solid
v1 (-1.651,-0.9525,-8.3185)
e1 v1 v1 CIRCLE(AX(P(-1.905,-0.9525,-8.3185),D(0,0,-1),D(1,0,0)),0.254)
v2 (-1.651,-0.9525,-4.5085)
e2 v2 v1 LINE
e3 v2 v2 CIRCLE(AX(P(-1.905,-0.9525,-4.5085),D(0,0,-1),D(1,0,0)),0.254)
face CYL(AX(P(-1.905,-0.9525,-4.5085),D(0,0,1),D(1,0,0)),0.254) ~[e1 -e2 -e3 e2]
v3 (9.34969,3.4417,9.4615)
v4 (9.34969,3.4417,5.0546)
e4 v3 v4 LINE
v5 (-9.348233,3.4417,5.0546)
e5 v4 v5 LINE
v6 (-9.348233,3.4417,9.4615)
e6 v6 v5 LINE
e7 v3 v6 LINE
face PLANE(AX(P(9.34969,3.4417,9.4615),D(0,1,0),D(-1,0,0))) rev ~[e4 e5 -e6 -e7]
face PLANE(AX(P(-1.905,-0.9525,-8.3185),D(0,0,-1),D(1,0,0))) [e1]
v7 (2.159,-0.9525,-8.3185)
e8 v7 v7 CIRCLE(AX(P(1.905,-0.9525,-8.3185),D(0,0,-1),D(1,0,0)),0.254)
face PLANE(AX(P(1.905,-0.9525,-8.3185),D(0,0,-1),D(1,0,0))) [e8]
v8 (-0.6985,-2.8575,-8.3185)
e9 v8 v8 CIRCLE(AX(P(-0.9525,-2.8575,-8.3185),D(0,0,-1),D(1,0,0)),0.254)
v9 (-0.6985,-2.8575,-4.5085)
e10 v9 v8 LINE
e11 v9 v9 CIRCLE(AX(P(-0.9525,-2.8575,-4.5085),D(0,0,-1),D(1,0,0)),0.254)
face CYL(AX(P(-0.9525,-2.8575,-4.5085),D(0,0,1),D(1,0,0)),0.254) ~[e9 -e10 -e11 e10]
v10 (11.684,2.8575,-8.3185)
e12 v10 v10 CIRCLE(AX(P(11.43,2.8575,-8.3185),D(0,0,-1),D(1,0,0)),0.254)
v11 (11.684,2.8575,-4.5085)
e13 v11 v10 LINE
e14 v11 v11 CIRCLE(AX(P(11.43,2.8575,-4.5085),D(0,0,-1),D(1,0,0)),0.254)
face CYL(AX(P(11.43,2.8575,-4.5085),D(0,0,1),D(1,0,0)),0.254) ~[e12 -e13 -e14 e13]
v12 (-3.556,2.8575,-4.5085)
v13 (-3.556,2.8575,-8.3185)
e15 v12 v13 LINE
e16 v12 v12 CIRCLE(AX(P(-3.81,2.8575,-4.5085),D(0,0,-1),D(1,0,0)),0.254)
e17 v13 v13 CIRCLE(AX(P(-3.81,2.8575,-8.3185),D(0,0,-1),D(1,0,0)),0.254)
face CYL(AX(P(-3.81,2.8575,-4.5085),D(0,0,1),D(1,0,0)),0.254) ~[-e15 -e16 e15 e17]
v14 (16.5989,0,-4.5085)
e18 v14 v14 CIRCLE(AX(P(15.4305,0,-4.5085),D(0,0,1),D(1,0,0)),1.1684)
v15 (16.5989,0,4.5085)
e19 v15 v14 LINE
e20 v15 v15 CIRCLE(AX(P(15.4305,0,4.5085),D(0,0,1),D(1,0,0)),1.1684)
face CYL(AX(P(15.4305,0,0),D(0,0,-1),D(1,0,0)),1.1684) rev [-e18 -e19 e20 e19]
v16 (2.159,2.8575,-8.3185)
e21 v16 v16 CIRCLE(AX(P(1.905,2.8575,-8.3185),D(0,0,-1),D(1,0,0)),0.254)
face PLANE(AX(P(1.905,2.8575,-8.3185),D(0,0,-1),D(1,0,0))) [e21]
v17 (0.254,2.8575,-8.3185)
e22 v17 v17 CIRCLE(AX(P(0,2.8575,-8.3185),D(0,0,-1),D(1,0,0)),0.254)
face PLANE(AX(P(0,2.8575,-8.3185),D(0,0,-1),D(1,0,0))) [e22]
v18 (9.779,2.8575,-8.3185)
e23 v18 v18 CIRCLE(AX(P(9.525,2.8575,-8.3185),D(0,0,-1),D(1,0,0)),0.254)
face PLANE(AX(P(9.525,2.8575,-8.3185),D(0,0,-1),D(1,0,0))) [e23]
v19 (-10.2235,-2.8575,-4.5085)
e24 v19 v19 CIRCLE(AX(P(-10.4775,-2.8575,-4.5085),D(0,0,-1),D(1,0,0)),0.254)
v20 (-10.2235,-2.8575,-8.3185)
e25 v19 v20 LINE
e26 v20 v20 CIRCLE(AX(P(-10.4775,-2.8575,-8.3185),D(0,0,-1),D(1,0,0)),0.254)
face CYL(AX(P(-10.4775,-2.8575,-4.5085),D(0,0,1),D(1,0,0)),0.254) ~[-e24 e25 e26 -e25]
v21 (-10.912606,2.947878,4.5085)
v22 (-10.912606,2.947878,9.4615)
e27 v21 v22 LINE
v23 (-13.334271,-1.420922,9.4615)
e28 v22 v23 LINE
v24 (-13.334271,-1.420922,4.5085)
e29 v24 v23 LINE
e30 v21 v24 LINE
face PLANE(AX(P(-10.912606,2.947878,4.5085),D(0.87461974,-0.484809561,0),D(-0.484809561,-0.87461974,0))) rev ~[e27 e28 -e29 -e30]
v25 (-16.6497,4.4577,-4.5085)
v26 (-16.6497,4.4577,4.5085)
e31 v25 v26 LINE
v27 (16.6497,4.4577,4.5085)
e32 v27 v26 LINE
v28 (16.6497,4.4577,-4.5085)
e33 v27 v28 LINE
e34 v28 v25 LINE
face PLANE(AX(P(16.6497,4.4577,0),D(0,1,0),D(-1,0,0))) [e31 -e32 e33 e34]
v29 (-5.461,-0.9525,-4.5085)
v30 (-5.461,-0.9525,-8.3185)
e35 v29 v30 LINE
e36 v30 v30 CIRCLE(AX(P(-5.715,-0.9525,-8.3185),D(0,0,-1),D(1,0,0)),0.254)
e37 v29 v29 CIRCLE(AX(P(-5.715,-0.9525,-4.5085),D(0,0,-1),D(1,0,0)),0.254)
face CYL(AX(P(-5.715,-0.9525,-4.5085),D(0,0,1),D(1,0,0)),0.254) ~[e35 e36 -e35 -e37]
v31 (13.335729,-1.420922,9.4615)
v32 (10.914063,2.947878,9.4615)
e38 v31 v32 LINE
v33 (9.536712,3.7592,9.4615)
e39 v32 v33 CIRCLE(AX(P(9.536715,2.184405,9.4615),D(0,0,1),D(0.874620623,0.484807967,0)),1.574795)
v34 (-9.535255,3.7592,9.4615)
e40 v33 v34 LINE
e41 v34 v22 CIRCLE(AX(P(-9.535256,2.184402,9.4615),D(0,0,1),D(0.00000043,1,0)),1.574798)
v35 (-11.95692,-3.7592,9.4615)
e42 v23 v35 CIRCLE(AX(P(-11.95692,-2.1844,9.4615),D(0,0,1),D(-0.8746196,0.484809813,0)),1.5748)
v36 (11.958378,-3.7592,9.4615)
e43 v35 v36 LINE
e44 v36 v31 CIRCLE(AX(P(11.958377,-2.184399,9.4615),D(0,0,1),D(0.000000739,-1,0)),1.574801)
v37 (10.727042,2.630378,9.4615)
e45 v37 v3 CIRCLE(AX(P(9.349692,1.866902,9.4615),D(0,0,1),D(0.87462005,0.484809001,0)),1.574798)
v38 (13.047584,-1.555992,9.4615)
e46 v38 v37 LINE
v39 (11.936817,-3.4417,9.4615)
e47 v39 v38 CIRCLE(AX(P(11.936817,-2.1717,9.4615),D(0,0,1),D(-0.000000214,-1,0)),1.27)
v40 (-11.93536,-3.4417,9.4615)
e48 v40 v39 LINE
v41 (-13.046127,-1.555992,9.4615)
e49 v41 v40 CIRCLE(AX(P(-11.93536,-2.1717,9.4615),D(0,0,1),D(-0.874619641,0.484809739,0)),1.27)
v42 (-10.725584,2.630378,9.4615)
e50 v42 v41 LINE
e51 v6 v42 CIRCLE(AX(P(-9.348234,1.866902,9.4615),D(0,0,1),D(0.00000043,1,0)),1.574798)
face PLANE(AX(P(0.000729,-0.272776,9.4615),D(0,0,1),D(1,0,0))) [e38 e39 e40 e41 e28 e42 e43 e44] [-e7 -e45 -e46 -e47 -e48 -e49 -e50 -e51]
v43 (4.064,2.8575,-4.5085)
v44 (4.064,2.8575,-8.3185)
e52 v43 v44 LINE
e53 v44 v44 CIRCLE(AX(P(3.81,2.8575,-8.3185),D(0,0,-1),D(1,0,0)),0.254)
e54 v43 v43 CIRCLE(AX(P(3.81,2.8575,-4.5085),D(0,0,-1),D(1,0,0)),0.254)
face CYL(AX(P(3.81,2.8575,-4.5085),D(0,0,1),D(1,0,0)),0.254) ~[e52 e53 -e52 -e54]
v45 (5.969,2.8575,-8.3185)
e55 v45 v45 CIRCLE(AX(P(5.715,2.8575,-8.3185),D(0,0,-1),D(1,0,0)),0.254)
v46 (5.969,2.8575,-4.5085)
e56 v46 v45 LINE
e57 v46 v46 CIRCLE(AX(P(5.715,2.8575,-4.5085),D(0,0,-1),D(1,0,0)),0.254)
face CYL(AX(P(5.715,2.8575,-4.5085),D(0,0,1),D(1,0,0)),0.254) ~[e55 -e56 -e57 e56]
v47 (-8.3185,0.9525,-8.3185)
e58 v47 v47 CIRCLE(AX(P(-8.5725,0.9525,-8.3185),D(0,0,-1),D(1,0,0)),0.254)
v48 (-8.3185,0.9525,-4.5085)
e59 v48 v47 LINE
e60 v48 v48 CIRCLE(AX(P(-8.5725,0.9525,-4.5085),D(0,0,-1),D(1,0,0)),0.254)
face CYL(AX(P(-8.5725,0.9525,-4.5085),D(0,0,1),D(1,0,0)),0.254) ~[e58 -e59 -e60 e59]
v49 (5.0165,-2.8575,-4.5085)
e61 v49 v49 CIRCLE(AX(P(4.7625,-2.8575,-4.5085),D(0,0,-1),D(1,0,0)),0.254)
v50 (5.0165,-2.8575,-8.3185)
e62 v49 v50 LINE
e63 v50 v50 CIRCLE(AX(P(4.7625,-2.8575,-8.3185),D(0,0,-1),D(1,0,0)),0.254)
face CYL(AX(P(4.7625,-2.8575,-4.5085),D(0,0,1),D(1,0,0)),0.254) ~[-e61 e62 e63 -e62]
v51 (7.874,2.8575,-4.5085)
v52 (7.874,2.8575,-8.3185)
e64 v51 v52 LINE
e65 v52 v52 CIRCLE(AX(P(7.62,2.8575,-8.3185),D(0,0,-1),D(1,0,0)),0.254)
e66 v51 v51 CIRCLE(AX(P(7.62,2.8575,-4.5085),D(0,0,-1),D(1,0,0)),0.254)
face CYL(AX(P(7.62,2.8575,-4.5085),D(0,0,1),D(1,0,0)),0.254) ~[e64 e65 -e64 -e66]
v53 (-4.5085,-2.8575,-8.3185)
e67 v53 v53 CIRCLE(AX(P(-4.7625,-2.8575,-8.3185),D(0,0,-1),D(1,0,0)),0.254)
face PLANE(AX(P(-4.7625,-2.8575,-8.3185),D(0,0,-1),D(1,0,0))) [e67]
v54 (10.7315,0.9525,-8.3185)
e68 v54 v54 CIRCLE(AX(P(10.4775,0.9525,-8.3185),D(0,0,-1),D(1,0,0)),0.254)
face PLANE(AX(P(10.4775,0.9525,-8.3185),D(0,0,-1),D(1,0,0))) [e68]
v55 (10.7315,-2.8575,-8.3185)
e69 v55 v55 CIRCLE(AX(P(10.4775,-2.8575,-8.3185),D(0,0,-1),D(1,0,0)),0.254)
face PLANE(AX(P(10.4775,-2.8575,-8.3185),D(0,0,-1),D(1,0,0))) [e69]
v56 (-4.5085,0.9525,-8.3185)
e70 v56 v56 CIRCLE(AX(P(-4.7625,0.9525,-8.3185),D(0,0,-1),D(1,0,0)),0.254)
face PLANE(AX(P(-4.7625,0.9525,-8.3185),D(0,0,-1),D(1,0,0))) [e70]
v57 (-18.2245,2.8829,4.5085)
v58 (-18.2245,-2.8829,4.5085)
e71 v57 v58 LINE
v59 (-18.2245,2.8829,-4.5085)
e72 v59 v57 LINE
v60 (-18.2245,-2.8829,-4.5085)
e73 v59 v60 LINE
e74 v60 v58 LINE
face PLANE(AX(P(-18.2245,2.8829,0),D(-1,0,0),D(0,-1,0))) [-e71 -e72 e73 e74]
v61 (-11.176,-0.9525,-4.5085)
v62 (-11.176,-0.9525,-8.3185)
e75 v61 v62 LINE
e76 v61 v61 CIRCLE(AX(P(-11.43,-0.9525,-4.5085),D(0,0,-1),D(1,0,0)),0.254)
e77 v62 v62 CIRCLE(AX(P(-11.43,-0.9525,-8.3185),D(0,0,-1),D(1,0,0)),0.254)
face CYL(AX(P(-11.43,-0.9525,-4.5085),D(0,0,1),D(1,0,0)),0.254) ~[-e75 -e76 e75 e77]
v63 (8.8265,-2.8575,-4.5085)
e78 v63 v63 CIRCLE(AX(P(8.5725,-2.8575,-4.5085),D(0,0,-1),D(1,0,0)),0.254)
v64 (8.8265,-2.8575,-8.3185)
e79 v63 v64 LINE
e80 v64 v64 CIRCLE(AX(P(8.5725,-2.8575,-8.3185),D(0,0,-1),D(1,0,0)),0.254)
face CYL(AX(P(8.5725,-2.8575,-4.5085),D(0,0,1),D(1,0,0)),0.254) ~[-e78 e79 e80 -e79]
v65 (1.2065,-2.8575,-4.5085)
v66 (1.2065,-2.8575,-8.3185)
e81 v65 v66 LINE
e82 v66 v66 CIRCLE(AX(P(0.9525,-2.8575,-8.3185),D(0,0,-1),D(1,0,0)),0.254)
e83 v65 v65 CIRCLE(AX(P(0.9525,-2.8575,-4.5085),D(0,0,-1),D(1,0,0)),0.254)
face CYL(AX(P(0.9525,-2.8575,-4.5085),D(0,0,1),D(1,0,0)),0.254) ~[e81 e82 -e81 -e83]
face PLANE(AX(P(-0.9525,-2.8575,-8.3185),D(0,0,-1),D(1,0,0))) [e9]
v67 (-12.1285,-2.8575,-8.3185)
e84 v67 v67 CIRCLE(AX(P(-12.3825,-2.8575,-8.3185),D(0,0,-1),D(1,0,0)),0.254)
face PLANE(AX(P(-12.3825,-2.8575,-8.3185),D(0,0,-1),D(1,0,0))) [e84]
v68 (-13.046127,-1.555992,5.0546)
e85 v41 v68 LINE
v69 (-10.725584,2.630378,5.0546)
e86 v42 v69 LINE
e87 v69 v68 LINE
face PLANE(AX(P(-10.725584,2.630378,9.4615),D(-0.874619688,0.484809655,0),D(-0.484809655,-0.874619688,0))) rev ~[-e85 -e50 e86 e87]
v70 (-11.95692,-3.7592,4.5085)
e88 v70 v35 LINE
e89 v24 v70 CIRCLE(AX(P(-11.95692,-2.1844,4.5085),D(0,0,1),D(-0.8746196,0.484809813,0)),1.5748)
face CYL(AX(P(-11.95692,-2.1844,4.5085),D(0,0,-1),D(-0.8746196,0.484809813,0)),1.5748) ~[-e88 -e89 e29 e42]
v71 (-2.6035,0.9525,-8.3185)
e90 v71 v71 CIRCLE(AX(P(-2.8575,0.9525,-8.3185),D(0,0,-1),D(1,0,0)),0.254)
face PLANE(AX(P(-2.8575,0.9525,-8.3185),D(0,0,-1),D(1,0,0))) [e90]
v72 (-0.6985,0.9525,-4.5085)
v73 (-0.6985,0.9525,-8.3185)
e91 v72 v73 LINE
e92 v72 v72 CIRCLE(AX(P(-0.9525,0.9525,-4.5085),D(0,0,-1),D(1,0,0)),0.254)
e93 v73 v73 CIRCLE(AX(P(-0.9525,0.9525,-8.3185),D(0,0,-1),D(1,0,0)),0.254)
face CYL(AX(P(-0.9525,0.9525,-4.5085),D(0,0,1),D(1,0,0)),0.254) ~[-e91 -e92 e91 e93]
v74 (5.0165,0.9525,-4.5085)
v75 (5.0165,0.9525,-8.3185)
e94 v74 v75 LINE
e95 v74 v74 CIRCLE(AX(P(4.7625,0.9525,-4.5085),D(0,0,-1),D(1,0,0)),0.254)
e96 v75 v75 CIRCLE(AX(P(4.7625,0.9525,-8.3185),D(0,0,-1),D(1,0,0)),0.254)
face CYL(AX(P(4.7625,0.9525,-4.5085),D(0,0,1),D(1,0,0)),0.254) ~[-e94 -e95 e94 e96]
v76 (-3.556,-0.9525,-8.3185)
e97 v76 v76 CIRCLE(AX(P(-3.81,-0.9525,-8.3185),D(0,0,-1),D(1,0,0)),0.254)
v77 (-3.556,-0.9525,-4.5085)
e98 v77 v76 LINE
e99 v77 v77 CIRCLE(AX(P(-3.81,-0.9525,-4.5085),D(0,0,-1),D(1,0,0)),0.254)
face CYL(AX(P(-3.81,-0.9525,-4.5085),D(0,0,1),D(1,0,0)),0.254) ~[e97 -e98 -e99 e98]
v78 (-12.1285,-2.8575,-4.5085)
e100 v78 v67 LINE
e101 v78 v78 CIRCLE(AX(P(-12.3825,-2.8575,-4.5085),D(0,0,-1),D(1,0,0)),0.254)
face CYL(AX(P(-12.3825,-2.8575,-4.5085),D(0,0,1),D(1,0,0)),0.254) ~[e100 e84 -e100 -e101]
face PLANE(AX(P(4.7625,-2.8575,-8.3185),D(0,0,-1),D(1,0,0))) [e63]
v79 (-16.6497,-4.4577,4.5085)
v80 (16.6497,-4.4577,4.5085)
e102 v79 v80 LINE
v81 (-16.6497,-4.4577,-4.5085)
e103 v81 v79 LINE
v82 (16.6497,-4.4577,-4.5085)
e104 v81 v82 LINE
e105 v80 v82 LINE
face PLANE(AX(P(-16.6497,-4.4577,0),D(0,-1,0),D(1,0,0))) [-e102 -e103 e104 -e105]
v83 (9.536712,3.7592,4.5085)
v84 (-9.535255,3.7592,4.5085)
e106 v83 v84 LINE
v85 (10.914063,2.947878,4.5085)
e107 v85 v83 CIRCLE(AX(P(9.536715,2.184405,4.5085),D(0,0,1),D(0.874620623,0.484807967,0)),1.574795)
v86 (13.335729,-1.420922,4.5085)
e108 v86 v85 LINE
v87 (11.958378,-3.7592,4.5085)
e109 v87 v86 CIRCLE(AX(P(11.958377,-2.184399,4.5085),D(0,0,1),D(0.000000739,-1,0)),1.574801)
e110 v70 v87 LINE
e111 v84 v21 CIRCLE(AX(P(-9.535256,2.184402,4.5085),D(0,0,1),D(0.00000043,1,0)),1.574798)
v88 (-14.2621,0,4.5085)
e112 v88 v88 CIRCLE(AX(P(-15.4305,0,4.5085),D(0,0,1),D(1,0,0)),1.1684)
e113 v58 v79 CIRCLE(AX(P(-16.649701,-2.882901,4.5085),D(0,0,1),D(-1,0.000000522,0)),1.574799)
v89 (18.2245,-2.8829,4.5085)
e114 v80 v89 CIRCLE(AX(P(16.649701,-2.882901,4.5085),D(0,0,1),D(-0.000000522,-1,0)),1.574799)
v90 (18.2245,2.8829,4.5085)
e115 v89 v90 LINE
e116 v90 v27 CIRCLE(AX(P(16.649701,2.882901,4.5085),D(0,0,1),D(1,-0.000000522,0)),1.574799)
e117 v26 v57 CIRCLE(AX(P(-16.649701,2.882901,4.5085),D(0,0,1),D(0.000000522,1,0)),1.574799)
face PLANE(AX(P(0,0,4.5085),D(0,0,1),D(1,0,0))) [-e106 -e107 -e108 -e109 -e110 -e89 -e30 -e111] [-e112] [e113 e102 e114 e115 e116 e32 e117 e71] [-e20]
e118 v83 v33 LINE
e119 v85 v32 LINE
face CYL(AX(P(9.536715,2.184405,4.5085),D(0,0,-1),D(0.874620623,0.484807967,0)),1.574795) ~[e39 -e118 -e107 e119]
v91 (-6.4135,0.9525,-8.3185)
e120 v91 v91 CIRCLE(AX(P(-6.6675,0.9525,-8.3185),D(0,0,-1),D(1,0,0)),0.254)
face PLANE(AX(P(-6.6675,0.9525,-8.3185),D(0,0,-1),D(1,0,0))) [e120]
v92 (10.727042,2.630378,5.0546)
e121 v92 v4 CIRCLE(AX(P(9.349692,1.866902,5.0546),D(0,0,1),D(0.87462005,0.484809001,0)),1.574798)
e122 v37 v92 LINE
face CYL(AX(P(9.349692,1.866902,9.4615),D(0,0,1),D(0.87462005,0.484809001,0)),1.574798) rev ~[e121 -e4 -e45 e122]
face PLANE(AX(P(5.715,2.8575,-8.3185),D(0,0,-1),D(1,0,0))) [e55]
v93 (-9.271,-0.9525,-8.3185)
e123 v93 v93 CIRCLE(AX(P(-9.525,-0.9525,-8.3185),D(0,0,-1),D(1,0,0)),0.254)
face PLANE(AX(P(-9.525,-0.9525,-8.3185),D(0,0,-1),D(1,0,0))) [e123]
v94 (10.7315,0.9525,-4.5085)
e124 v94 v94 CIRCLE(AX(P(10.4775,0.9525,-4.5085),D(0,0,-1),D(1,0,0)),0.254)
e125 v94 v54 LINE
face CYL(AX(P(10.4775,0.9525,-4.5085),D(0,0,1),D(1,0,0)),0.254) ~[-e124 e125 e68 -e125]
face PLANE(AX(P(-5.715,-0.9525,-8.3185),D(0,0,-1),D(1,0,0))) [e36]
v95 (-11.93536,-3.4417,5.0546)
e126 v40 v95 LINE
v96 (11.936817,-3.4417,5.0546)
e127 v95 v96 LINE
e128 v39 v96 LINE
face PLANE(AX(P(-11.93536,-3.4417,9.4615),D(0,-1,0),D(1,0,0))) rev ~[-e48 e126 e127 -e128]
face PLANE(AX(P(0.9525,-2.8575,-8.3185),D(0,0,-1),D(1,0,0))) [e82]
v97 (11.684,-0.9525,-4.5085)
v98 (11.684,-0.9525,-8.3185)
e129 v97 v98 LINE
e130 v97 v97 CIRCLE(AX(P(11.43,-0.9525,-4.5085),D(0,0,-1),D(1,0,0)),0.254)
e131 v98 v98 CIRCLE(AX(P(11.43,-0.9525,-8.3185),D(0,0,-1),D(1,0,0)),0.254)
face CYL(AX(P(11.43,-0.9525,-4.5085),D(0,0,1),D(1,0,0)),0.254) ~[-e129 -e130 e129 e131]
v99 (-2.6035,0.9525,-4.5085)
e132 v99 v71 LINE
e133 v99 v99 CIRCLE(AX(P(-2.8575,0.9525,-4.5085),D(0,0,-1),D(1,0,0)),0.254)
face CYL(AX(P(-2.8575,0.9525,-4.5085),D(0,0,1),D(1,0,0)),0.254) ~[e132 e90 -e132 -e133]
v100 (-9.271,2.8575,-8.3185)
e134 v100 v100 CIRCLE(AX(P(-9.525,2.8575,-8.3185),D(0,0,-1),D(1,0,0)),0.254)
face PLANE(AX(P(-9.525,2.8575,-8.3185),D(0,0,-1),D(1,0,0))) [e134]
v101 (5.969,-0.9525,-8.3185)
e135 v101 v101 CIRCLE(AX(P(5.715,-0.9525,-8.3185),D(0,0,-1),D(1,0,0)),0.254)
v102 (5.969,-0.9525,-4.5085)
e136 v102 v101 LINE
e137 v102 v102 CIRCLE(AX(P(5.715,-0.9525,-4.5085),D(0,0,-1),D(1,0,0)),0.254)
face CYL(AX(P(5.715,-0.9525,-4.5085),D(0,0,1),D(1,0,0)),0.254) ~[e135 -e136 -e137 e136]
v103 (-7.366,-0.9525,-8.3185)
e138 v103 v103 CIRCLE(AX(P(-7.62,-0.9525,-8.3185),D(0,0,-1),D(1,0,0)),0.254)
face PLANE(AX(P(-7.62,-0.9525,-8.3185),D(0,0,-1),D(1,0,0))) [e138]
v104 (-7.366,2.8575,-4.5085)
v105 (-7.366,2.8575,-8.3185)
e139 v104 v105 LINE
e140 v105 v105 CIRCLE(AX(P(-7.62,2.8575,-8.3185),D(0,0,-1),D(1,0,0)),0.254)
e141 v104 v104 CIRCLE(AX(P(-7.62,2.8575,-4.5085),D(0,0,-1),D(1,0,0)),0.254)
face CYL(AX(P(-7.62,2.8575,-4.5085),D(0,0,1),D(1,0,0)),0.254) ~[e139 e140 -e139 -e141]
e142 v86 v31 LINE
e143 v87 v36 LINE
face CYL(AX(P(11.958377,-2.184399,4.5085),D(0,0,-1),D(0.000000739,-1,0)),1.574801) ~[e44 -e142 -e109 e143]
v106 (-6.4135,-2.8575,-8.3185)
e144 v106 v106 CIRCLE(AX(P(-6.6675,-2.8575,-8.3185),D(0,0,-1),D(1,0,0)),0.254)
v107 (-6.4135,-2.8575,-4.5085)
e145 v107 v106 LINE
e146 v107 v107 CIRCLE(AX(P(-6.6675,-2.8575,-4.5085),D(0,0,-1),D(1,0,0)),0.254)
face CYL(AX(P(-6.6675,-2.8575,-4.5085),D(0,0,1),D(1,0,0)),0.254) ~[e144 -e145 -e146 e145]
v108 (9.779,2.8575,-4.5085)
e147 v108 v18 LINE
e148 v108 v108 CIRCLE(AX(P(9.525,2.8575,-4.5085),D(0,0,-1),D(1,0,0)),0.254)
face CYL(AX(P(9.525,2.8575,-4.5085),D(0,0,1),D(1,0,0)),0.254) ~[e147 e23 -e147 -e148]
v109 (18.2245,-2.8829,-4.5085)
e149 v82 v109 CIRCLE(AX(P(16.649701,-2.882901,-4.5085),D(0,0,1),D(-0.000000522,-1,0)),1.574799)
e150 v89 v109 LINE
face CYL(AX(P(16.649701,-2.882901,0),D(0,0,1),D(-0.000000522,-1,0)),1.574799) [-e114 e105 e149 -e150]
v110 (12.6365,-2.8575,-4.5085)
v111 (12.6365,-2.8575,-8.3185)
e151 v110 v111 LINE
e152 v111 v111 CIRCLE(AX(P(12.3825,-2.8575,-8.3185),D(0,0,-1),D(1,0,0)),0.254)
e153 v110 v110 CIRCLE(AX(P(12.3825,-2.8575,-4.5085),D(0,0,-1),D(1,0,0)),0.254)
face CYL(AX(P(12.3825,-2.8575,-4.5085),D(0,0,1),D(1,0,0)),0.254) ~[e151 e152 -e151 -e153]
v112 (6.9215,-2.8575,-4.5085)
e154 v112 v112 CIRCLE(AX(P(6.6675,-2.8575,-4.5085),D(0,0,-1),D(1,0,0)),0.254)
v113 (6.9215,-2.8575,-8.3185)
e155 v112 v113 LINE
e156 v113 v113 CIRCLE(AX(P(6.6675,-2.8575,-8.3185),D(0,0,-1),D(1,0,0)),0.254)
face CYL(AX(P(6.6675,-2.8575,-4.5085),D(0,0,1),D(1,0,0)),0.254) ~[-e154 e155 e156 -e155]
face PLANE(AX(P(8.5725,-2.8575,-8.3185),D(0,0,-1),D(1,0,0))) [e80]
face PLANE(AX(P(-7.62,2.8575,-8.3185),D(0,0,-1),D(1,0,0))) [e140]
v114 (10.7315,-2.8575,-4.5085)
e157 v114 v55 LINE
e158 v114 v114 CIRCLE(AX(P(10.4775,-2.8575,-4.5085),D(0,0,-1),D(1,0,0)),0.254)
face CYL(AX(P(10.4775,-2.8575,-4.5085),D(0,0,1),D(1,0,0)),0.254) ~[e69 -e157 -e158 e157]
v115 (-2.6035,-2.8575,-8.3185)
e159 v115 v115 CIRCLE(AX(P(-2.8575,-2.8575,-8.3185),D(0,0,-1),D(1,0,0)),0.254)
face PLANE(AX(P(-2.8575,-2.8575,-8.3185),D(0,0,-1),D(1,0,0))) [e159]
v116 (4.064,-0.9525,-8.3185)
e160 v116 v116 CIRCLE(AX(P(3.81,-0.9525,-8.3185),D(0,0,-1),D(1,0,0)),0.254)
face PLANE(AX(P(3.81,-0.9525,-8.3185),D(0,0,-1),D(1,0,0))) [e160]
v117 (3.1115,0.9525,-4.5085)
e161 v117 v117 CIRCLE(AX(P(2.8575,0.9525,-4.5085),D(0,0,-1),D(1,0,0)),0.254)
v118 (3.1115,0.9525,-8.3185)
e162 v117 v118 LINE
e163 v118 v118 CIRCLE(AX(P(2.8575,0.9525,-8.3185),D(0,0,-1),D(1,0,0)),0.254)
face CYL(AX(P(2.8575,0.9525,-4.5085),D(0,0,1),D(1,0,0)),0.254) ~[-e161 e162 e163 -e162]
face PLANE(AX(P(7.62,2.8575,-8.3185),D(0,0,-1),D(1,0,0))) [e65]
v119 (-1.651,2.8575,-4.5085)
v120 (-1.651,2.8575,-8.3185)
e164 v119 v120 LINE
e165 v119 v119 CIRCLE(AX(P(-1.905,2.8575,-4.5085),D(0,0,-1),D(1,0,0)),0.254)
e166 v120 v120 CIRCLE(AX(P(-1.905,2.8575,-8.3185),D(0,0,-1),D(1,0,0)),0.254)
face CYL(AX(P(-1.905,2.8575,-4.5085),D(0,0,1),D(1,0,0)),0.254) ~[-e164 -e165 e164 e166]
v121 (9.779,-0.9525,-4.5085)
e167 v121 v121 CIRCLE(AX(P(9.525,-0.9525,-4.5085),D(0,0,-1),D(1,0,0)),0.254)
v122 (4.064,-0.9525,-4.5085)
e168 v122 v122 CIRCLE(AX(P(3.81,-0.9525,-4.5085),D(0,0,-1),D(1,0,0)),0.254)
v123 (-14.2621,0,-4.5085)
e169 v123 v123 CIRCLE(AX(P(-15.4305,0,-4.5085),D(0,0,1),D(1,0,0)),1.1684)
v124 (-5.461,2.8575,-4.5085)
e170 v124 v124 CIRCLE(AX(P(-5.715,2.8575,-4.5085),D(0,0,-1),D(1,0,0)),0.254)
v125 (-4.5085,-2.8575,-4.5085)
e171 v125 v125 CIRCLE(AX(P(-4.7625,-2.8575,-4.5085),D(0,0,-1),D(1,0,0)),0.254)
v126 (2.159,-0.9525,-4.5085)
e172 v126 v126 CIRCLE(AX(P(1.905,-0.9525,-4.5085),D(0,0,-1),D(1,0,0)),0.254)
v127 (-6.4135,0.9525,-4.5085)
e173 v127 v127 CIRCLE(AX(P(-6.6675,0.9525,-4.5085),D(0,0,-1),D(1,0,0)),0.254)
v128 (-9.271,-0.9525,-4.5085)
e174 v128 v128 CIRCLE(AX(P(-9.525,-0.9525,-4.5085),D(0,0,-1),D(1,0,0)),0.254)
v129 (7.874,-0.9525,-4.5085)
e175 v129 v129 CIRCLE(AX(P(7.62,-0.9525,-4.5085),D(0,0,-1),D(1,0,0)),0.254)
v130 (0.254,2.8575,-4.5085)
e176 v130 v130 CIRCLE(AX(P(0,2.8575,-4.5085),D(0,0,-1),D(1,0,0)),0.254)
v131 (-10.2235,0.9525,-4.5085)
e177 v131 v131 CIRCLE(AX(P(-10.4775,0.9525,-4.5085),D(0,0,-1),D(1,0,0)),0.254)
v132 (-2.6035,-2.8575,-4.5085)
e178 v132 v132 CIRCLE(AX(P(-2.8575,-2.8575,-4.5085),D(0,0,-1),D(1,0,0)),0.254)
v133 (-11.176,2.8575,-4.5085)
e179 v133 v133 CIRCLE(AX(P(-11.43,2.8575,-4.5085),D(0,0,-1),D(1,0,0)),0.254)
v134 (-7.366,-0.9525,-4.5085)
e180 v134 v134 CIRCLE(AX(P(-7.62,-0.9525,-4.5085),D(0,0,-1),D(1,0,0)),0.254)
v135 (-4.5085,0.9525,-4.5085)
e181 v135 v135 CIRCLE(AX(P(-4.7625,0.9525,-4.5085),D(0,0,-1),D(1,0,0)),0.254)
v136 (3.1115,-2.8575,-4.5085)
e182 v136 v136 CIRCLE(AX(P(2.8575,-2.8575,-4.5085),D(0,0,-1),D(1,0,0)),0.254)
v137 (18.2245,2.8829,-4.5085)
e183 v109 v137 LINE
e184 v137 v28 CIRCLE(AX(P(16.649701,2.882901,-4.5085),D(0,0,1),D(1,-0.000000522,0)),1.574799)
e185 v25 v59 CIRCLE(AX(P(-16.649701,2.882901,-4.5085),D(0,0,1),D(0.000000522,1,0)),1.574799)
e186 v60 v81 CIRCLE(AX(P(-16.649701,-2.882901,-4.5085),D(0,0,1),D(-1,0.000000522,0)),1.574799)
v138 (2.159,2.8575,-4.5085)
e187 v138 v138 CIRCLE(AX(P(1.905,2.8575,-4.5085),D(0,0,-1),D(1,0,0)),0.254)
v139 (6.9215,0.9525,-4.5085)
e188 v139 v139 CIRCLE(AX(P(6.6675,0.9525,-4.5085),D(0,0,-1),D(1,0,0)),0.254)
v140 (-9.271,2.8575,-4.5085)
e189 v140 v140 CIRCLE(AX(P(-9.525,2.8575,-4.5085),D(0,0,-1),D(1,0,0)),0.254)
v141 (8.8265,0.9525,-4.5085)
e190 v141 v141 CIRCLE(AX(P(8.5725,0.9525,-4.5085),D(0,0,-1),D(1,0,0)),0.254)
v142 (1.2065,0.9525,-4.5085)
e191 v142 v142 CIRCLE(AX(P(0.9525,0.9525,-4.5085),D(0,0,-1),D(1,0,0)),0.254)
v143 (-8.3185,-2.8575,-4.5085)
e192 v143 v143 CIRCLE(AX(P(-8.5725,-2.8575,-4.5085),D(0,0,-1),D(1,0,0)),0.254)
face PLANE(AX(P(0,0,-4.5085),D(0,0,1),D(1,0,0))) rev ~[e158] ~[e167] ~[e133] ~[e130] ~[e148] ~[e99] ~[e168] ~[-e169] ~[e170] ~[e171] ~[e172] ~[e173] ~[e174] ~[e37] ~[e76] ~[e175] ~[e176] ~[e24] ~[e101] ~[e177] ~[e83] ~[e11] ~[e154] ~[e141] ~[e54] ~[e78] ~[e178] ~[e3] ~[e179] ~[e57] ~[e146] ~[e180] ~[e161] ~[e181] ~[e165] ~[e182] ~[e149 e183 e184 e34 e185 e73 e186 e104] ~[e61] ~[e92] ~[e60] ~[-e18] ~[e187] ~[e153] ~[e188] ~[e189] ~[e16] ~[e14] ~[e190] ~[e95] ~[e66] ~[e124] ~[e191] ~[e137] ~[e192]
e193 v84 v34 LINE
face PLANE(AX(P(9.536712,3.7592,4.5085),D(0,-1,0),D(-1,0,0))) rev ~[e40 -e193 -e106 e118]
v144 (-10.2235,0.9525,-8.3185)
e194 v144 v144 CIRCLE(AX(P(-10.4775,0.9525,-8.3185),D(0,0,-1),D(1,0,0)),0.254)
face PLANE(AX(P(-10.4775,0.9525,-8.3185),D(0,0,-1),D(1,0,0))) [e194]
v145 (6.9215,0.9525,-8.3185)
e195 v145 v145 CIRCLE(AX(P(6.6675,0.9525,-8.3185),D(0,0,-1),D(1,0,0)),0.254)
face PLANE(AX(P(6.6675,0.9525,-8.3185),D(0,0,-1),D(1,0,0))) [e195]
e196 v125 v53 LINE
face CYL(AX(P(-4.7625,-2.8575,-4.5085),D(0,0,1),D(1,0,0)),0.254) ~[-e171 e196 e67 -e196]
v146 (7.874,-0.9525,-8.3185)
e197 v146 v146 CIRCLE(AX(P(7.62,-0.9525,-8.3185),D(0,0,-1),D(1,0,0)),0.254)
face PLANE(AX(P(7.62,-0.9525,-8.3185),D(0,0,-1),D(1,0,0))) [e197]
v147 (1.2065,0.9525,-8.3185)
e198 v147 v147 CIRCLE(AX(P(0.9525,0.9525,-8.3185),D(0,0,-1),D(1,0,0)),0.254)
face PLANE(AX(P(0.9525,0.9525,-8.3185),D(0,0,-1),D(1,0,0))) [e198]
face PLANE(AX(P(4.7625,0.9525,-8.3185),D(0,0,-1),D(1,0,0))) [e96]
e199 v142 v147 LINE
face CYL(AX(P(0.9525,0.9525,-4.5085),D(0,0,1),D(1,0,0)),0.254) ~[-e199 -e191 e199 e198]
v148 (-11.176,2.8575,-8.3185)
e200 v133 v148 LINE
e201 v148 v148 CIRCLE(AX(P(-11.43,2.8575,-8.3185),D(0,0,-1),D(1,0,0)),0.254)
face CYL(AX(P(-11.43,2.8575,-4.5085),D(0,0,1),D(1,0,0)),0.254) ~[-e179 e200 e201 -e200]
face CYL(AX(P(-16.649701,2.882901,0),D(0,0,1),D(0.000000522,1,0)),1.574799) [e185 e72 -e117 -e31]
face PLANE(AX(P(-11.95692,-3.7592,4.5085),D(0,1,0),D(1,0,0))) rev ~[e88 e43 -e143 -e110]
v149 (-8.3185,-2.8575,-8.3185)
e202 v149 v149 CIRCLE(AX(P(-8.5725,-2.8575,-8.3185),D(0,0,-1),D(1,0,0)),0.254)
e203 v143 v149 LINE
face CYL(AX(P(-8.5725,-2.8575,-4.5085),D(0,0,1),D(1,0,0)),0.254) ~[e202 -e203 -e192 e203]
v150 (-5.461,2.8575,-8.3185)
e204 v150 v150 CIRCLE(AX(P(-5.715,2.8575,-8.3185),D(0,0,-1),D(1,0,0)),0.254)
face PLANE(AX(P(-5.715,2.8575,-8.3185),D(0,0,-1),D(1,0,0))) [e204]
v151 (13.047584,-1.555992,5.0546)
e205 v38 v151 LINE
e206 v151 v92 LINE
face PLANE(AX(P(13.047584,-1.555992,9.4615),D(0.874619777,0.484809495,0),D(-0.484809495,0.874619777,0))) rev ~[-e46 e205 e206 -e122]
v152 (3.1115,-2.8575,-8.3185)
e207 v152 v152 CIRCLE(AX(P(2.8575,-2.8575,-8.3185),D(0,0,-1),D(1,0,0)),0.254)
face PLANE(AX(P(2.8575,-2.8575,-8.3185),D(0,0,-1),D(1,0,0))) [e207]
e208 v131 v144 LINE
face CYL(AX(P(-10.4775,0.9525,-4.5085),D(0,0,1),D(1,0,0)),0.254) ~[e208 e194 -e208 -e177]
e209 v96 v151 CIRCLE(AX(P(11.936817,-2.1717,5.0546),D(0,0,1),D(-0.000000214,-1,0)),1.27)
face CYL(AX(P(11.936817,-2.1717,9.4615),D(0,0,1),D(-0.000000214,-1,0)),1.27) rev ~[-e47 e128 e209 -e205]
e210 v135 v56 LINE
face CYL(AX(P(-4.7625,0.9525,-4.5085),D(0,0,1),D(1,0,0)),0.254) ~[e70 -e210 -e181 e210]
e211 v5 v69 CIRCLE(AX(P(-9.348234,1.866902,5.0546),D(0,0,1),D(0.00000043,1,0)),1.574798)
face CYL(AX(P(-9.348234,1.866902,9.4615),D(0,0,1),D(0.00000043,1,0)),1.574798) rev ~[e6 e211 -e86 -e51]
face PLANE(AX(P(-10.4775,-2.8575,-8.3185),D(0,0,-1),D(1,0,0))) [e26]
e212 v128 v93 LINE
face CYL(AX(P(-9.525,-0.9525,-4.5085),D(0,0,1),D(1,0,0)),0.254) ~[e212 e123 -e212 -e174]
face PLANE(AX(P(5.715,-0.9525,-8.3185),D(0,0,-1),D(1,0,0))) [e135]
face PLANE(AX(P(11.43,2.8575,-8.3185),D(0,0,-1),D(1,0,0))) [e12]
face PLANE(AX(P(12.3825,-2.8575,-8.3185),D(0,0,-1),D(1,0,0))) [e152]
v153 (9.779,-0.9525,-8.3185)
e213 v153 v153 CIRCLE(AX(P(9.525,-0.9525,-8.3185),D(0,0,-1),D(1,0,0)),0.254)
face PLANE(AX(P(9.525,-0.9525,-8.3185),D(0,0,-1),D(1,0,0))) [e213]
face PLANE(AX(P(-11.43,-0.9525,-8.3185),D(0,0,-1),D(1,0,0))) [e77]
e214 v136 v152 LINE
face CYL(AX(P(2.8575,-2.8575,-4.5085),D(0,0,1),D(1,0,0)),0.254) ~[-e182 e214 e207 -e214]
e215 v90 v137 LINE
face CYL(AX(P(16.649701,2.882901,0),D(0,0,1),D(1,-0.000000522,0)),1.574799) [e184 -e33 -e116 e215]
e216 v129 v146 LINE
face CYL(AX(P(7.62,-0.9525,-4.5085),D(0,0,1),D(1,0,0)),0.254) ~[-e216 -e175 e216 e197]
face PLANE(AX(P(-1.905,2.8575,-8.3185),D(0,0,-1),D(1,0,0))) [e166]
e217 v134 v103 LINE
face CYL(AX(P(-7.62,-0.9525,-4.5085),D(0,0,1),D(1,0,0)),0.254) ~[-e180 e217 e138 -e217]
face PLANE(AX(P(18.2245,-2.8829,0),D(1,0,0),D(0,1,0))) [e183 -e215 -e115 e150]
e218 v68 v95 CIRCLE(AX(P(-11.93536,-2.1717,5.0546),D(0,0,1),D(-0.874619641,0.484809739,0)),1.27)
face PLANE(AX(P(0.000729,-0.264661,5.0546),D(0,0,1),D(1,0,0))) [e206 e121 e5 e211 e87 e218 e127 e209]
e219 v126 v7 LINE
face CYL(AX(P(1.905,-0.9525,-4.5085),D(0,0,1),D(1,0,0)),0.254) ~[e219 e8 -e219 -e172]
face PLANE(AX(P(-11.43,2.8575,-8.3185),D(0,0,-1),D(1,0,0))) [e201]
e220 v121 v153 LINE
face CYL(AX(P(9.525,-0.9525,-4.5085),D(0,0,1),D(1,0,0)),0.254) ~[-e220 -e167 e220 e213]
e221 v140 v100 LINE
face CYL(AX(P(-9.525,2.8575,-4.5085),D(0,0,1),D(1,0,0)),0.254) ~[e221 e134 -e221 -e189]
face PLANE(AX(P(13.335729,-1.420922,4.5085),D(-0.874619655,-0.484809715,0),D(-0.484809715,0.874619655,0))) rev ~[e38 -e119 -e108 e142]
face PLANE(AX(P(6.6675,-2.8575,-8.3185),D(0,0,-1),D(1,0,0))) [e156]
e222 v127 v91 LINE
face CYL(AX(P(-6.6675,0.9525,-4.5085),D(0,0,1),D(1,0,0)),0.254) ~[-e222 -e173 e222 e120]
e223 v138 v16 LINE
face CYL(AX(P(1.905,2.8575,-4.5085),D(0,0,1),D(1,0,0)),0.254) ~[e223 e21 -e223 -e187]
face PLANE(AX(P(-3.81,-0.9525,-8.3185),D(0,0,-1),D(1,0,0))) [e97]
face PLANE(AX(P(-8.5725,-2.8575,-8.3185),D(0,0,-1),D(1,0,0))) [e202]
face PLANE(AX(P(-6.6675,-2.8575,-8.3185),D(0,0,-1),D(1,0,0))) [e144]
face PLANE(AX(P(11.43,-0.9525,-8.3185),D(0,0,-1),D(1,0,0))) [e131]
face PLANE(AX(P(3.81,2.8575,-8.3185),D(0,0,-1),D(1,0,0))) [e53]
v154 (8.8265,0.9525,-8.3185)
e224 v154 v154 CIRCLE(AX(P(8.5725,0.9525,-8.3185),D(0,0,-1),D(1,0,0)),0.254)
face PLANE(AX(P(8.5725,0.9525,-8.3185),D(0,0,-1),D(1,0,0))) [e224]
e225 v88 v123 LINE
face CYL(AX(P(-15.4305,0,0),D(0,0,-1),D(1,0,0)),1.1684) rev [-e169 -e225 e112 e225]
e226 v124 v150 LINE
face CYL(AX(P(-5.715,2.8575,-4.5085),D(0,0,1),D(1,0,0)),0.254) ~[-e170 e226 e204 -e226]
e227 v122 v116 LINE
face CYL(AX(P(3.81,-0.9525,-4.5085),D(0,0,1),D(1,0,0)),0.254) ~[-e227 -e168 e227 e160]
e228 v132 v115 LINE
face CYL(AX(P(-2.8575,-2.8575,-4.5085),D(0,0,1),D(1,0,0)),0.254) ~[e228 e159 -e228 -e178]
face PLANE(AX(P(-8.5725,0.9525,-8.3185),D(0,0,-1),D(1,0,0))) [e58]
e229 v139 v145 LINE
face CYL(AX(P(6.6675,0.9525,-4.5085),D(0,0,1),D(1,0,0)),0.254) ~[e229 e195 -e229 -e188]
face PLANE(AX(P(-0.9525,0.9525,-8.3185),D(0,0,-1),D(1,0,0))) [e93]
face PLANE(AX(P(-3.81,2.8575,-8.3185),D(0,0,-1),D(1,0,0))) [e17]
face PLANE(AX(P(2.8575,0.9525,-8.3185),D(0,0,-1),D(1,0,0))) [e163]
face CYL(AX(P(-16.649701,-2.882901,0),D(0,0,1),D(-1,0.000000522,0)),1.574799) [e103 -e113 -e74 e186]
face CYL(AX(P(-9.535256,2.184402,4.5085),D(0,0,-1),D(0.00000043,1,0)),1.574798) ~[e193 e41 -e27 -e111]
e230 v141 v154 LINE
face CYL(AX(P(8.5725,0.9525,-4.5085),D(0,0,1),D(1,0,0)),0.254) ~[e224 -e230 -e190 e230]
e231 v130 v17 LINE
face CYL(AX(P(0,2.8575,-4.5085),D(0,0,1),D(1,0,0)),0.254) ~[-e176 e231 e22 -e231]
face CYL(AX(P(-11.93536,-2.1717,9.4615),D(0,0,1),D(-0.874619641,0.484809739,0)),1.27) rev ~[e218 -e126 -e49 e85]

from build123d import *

# Parameters (mm, degrees)
F0_R     = 1.1684
F1_DEPTH = 4.5085
F3_DEPTH = 4.953
F5_DEPTH = 4.4069
F6_R     = 0.254
F7_DEPTH = 3.81


with BuildPart() as f1:
    # F0 (on Top) → F1 (new body, symmetric)
    with BuildSketch(Plane.XY):
        with BuildLine():
            Line((16.6497, 4.4577), (-16.6497, 4.4577))
            ThreePointArc((-16.6497, 4.4577), (-17.763252, 3.996452), (-18.2245, 2.8829))
            Line((-18.2245, 2.8829), (-18.2245, -2.8829))
            ThreePointArc((-18.2245, -2.8829), (-17.763252, -3.996452), (-16.6497, -4.4577))
            Line((-16.6497, -4.4577), (16.6497, -4.4577))
            ThreePointArc((16.6497, -4.4577), (17.763252, -3.996452), (18.2245, -2.8829))
            Line((18.2245, -2.8829), (18.2245, 2.8829))
            ThreePointArc((18.2245, 2.8829), (17.763252, 3.996452), (16.6497, 4.4577))
        make_face()
        with Locations((-15.4305, 0)):
            Circle(F0_R, mode=Mode.SUBTRACT)
        with Locations((15.4305, 0)):
            Circle(F0_R, mode=Mode.SUBTRACT)
    extrude(amount=F1_DEPTH, both=True)

    # F2 (on face) → F3 (join)
    with BuildSketch(Plane.XY.offset(4.5085)):
        with BuildLine():
            Line((-11.95692, -3.7592), (11.958378, -3.7592))
            ThreePointArc((11.958378, -3.7592), (13.315271, -2.983671), (13.335729, -1.420922))
            Line((13.335729, -1.420922), (10.914063, 2.947878))
            ThreePointArc((10.914063, 2.947878), (10.335984, 3.541294), (9.536712, 3.7592))
            Line((9.536712, 3.7592), (-9.535255, 3.7592))
            ThreePointArc((-9.535255, 3.7592), (-10.334526, 3.541294), (-10.912606, 2.947878))
            Line((-10.912606, 2.947878), (-13.334271, -1.420922))
            ThreePointArc((-13.334271, -1.420922), (-13.313814, -2.983671), (-11.95692, -3.7592))
        make_face()
    extrude(amount=F3_DEPTH)

    # F4 (on face) → F5 (cut)
    with BuildSketch(Plane.XY.offset(9.4615)):
        with BuildLine():
            Line((9.34969, 3.4417), (-9.348233, 3.4417))
            ThreePointArc((-9.348233, 3.4417), (-10.147504, 3.223794), (-10.725584, 2.630378))
            Line((-10.725584, 2.630378), (-13.046127, -1.555992))
            ThreePointArc((-13.046127, -1.555992), (-13.029629, -2.816274), (-11.93536, -3.4417))
            Line((-11.93536, -3.4417), (11.936817, -3.4417))
            ThreePointArc((11.936817, -3.4417), (13.031086, -2.816274), (13.047584, -1.555992))
            Line((13.047584, -1.555992), (10.727042, 2.630378))
            ThreePointArc((10.727042, 2.630378), (10.148962, 3.223794), (9.34969, 3.4417))
        make_face()
    extrude(amount=-F5_DEPTH, mode=Mode.SUBTRACT)

    # F6 (on face) → F7 (join)
    with BuildSketch(Plane(origin=(0, 0, -4.5085), x_dir=(1, 0, 0), z_dir=(0, 0, -1))):
        with Locations((-12.3825, 2.8575)):
            Circle(F6_R)
        with Locations((-10.4775, 2.8575)):
            Circle(F6_R)
        with Locations((-8.5725, 2.8575)):
            Circle(F6_R)
        with Locations((-6.6675, 2.8575)):
            Circle(F6_R)
        with Locations((-4.7625, 2.8575)):
            Circle(F6_R)
        with Locations((-2.8575, 2.8575)):
            Circle(F6_R)
        with Locations((-0.9525, 2.8575)):
            Circle(F6_R)
        with Locations((0.9525, 2.8575)):
            Circle(F6_R)
        with Locations((2.8575, 2.8575)):
            Circle(F6_R)
        with Locations((4.7625, 2.8575)):
            Circle(F6_R)
        with Locations((6.6675, 2.8575)):
            Circle(F6_R)
        with Locations((8.5725, 2.8575)):
            Circle(F6_R)
        with Locations((10.4775, 2.8575)):
            Circle(F6_R)
        with Locations((12.3825, 2.8575)):
            Circle(F6_R)
        with Locations((-11.43, 0.9525)):
            Circle(F6_R)
        with Locations((-9.525, 0.9525)):
            Circle(F6_R)
        with Locations((-7.62, 0.9525)):
            Circle(F6_R)
        with Locations((-5.715, 0.9525)):
            Circle(F6_R)
        with Locations((-3.81, 0.9525)):
            Circle(F6_R)
        with Locations((-1.905, 0.9525)):
            Circle(F6_R)
        with Locations((-10.4775, -0.9525)):
            Circle(F6_R)
        with Locations((-8.5725, -0.9525)):
            Circle(F6_R)
        with Locations((-6.6675, -0.9525)):
            Circle(F6_R)
        with Locations((-4.7625, -0.9525)):
            Circle(F6_R)
        with Locations((-2.8575, -0.9525)):
            Circle(F6_R)
        with Locations((-0.9525, -0.9525)):
            Circle(F6_R)
        with Locations((9.525, 0.9525)):
            Circle(F6_R)
        with Locations((7.62, 0.9525)):
            Circle(F6_R)
        with Locations((6.6675, -0.9525)):
            Circle(F6_R)
        with Locations((11.43, 0.9525)):
            Circle(F6_R)
        with Locations((4.7625, -0.9525)):
            Circle(F6_R)
        with Locations((2.8575, -0.9525)):
            Circle(F6_R)
        with Locations((5.715, 0.9525)):
            Circle(F6_R)
        with Locations((8.5725, -0.9525)):
            Circle(F6_R)
        with Locations((1.905, 0.9525)):
            Circle(F6_R)
        with Locations((3.81, 0.9525)):
            Circle(F6_R)
        with Locations((10.4775, -0.9525)):
            Circle(F6_R)
        with Locations((0.9525, -0.9525)):
            Circle(F6_R)
        with Locations((-11.43, -2.8575)):
            Circle(F6_R)
        with Locations((-9.525, -2.8575)):
            Circle(F6_R)
        with Locations((-7.62, -2.8575)):
            Circle(F6_R)
        with Locations((-5.715, -2.8575)):
            Circle(F6_R)
        with Locations((-3.81, -2.8575)):
            Circle(F6_R)
        with Locations((-1.905, -2.8575)):
            Circle(F6_R)
        with Locations((0, -2.8575)):
            Circle(F6_R)
        with Locations((1.905, -2.8575)):
            Circle(F6_R)
        with Locations((3.81, -2.8575)):
            Circle(F6_R)
        with Locations((5.715, -2.8575)):
            Circle(F6_R)
        with Locations((7.62, -2.8575)):
            Circle(F6_R)
        with Locations((9.525, -2.8575)):
            Circle(F6_R)
        with Locations((11.43, -2.8575)):
            Circle(F6_R)
    extrude(amount=F7_DEPTH)


solid = f1.part
